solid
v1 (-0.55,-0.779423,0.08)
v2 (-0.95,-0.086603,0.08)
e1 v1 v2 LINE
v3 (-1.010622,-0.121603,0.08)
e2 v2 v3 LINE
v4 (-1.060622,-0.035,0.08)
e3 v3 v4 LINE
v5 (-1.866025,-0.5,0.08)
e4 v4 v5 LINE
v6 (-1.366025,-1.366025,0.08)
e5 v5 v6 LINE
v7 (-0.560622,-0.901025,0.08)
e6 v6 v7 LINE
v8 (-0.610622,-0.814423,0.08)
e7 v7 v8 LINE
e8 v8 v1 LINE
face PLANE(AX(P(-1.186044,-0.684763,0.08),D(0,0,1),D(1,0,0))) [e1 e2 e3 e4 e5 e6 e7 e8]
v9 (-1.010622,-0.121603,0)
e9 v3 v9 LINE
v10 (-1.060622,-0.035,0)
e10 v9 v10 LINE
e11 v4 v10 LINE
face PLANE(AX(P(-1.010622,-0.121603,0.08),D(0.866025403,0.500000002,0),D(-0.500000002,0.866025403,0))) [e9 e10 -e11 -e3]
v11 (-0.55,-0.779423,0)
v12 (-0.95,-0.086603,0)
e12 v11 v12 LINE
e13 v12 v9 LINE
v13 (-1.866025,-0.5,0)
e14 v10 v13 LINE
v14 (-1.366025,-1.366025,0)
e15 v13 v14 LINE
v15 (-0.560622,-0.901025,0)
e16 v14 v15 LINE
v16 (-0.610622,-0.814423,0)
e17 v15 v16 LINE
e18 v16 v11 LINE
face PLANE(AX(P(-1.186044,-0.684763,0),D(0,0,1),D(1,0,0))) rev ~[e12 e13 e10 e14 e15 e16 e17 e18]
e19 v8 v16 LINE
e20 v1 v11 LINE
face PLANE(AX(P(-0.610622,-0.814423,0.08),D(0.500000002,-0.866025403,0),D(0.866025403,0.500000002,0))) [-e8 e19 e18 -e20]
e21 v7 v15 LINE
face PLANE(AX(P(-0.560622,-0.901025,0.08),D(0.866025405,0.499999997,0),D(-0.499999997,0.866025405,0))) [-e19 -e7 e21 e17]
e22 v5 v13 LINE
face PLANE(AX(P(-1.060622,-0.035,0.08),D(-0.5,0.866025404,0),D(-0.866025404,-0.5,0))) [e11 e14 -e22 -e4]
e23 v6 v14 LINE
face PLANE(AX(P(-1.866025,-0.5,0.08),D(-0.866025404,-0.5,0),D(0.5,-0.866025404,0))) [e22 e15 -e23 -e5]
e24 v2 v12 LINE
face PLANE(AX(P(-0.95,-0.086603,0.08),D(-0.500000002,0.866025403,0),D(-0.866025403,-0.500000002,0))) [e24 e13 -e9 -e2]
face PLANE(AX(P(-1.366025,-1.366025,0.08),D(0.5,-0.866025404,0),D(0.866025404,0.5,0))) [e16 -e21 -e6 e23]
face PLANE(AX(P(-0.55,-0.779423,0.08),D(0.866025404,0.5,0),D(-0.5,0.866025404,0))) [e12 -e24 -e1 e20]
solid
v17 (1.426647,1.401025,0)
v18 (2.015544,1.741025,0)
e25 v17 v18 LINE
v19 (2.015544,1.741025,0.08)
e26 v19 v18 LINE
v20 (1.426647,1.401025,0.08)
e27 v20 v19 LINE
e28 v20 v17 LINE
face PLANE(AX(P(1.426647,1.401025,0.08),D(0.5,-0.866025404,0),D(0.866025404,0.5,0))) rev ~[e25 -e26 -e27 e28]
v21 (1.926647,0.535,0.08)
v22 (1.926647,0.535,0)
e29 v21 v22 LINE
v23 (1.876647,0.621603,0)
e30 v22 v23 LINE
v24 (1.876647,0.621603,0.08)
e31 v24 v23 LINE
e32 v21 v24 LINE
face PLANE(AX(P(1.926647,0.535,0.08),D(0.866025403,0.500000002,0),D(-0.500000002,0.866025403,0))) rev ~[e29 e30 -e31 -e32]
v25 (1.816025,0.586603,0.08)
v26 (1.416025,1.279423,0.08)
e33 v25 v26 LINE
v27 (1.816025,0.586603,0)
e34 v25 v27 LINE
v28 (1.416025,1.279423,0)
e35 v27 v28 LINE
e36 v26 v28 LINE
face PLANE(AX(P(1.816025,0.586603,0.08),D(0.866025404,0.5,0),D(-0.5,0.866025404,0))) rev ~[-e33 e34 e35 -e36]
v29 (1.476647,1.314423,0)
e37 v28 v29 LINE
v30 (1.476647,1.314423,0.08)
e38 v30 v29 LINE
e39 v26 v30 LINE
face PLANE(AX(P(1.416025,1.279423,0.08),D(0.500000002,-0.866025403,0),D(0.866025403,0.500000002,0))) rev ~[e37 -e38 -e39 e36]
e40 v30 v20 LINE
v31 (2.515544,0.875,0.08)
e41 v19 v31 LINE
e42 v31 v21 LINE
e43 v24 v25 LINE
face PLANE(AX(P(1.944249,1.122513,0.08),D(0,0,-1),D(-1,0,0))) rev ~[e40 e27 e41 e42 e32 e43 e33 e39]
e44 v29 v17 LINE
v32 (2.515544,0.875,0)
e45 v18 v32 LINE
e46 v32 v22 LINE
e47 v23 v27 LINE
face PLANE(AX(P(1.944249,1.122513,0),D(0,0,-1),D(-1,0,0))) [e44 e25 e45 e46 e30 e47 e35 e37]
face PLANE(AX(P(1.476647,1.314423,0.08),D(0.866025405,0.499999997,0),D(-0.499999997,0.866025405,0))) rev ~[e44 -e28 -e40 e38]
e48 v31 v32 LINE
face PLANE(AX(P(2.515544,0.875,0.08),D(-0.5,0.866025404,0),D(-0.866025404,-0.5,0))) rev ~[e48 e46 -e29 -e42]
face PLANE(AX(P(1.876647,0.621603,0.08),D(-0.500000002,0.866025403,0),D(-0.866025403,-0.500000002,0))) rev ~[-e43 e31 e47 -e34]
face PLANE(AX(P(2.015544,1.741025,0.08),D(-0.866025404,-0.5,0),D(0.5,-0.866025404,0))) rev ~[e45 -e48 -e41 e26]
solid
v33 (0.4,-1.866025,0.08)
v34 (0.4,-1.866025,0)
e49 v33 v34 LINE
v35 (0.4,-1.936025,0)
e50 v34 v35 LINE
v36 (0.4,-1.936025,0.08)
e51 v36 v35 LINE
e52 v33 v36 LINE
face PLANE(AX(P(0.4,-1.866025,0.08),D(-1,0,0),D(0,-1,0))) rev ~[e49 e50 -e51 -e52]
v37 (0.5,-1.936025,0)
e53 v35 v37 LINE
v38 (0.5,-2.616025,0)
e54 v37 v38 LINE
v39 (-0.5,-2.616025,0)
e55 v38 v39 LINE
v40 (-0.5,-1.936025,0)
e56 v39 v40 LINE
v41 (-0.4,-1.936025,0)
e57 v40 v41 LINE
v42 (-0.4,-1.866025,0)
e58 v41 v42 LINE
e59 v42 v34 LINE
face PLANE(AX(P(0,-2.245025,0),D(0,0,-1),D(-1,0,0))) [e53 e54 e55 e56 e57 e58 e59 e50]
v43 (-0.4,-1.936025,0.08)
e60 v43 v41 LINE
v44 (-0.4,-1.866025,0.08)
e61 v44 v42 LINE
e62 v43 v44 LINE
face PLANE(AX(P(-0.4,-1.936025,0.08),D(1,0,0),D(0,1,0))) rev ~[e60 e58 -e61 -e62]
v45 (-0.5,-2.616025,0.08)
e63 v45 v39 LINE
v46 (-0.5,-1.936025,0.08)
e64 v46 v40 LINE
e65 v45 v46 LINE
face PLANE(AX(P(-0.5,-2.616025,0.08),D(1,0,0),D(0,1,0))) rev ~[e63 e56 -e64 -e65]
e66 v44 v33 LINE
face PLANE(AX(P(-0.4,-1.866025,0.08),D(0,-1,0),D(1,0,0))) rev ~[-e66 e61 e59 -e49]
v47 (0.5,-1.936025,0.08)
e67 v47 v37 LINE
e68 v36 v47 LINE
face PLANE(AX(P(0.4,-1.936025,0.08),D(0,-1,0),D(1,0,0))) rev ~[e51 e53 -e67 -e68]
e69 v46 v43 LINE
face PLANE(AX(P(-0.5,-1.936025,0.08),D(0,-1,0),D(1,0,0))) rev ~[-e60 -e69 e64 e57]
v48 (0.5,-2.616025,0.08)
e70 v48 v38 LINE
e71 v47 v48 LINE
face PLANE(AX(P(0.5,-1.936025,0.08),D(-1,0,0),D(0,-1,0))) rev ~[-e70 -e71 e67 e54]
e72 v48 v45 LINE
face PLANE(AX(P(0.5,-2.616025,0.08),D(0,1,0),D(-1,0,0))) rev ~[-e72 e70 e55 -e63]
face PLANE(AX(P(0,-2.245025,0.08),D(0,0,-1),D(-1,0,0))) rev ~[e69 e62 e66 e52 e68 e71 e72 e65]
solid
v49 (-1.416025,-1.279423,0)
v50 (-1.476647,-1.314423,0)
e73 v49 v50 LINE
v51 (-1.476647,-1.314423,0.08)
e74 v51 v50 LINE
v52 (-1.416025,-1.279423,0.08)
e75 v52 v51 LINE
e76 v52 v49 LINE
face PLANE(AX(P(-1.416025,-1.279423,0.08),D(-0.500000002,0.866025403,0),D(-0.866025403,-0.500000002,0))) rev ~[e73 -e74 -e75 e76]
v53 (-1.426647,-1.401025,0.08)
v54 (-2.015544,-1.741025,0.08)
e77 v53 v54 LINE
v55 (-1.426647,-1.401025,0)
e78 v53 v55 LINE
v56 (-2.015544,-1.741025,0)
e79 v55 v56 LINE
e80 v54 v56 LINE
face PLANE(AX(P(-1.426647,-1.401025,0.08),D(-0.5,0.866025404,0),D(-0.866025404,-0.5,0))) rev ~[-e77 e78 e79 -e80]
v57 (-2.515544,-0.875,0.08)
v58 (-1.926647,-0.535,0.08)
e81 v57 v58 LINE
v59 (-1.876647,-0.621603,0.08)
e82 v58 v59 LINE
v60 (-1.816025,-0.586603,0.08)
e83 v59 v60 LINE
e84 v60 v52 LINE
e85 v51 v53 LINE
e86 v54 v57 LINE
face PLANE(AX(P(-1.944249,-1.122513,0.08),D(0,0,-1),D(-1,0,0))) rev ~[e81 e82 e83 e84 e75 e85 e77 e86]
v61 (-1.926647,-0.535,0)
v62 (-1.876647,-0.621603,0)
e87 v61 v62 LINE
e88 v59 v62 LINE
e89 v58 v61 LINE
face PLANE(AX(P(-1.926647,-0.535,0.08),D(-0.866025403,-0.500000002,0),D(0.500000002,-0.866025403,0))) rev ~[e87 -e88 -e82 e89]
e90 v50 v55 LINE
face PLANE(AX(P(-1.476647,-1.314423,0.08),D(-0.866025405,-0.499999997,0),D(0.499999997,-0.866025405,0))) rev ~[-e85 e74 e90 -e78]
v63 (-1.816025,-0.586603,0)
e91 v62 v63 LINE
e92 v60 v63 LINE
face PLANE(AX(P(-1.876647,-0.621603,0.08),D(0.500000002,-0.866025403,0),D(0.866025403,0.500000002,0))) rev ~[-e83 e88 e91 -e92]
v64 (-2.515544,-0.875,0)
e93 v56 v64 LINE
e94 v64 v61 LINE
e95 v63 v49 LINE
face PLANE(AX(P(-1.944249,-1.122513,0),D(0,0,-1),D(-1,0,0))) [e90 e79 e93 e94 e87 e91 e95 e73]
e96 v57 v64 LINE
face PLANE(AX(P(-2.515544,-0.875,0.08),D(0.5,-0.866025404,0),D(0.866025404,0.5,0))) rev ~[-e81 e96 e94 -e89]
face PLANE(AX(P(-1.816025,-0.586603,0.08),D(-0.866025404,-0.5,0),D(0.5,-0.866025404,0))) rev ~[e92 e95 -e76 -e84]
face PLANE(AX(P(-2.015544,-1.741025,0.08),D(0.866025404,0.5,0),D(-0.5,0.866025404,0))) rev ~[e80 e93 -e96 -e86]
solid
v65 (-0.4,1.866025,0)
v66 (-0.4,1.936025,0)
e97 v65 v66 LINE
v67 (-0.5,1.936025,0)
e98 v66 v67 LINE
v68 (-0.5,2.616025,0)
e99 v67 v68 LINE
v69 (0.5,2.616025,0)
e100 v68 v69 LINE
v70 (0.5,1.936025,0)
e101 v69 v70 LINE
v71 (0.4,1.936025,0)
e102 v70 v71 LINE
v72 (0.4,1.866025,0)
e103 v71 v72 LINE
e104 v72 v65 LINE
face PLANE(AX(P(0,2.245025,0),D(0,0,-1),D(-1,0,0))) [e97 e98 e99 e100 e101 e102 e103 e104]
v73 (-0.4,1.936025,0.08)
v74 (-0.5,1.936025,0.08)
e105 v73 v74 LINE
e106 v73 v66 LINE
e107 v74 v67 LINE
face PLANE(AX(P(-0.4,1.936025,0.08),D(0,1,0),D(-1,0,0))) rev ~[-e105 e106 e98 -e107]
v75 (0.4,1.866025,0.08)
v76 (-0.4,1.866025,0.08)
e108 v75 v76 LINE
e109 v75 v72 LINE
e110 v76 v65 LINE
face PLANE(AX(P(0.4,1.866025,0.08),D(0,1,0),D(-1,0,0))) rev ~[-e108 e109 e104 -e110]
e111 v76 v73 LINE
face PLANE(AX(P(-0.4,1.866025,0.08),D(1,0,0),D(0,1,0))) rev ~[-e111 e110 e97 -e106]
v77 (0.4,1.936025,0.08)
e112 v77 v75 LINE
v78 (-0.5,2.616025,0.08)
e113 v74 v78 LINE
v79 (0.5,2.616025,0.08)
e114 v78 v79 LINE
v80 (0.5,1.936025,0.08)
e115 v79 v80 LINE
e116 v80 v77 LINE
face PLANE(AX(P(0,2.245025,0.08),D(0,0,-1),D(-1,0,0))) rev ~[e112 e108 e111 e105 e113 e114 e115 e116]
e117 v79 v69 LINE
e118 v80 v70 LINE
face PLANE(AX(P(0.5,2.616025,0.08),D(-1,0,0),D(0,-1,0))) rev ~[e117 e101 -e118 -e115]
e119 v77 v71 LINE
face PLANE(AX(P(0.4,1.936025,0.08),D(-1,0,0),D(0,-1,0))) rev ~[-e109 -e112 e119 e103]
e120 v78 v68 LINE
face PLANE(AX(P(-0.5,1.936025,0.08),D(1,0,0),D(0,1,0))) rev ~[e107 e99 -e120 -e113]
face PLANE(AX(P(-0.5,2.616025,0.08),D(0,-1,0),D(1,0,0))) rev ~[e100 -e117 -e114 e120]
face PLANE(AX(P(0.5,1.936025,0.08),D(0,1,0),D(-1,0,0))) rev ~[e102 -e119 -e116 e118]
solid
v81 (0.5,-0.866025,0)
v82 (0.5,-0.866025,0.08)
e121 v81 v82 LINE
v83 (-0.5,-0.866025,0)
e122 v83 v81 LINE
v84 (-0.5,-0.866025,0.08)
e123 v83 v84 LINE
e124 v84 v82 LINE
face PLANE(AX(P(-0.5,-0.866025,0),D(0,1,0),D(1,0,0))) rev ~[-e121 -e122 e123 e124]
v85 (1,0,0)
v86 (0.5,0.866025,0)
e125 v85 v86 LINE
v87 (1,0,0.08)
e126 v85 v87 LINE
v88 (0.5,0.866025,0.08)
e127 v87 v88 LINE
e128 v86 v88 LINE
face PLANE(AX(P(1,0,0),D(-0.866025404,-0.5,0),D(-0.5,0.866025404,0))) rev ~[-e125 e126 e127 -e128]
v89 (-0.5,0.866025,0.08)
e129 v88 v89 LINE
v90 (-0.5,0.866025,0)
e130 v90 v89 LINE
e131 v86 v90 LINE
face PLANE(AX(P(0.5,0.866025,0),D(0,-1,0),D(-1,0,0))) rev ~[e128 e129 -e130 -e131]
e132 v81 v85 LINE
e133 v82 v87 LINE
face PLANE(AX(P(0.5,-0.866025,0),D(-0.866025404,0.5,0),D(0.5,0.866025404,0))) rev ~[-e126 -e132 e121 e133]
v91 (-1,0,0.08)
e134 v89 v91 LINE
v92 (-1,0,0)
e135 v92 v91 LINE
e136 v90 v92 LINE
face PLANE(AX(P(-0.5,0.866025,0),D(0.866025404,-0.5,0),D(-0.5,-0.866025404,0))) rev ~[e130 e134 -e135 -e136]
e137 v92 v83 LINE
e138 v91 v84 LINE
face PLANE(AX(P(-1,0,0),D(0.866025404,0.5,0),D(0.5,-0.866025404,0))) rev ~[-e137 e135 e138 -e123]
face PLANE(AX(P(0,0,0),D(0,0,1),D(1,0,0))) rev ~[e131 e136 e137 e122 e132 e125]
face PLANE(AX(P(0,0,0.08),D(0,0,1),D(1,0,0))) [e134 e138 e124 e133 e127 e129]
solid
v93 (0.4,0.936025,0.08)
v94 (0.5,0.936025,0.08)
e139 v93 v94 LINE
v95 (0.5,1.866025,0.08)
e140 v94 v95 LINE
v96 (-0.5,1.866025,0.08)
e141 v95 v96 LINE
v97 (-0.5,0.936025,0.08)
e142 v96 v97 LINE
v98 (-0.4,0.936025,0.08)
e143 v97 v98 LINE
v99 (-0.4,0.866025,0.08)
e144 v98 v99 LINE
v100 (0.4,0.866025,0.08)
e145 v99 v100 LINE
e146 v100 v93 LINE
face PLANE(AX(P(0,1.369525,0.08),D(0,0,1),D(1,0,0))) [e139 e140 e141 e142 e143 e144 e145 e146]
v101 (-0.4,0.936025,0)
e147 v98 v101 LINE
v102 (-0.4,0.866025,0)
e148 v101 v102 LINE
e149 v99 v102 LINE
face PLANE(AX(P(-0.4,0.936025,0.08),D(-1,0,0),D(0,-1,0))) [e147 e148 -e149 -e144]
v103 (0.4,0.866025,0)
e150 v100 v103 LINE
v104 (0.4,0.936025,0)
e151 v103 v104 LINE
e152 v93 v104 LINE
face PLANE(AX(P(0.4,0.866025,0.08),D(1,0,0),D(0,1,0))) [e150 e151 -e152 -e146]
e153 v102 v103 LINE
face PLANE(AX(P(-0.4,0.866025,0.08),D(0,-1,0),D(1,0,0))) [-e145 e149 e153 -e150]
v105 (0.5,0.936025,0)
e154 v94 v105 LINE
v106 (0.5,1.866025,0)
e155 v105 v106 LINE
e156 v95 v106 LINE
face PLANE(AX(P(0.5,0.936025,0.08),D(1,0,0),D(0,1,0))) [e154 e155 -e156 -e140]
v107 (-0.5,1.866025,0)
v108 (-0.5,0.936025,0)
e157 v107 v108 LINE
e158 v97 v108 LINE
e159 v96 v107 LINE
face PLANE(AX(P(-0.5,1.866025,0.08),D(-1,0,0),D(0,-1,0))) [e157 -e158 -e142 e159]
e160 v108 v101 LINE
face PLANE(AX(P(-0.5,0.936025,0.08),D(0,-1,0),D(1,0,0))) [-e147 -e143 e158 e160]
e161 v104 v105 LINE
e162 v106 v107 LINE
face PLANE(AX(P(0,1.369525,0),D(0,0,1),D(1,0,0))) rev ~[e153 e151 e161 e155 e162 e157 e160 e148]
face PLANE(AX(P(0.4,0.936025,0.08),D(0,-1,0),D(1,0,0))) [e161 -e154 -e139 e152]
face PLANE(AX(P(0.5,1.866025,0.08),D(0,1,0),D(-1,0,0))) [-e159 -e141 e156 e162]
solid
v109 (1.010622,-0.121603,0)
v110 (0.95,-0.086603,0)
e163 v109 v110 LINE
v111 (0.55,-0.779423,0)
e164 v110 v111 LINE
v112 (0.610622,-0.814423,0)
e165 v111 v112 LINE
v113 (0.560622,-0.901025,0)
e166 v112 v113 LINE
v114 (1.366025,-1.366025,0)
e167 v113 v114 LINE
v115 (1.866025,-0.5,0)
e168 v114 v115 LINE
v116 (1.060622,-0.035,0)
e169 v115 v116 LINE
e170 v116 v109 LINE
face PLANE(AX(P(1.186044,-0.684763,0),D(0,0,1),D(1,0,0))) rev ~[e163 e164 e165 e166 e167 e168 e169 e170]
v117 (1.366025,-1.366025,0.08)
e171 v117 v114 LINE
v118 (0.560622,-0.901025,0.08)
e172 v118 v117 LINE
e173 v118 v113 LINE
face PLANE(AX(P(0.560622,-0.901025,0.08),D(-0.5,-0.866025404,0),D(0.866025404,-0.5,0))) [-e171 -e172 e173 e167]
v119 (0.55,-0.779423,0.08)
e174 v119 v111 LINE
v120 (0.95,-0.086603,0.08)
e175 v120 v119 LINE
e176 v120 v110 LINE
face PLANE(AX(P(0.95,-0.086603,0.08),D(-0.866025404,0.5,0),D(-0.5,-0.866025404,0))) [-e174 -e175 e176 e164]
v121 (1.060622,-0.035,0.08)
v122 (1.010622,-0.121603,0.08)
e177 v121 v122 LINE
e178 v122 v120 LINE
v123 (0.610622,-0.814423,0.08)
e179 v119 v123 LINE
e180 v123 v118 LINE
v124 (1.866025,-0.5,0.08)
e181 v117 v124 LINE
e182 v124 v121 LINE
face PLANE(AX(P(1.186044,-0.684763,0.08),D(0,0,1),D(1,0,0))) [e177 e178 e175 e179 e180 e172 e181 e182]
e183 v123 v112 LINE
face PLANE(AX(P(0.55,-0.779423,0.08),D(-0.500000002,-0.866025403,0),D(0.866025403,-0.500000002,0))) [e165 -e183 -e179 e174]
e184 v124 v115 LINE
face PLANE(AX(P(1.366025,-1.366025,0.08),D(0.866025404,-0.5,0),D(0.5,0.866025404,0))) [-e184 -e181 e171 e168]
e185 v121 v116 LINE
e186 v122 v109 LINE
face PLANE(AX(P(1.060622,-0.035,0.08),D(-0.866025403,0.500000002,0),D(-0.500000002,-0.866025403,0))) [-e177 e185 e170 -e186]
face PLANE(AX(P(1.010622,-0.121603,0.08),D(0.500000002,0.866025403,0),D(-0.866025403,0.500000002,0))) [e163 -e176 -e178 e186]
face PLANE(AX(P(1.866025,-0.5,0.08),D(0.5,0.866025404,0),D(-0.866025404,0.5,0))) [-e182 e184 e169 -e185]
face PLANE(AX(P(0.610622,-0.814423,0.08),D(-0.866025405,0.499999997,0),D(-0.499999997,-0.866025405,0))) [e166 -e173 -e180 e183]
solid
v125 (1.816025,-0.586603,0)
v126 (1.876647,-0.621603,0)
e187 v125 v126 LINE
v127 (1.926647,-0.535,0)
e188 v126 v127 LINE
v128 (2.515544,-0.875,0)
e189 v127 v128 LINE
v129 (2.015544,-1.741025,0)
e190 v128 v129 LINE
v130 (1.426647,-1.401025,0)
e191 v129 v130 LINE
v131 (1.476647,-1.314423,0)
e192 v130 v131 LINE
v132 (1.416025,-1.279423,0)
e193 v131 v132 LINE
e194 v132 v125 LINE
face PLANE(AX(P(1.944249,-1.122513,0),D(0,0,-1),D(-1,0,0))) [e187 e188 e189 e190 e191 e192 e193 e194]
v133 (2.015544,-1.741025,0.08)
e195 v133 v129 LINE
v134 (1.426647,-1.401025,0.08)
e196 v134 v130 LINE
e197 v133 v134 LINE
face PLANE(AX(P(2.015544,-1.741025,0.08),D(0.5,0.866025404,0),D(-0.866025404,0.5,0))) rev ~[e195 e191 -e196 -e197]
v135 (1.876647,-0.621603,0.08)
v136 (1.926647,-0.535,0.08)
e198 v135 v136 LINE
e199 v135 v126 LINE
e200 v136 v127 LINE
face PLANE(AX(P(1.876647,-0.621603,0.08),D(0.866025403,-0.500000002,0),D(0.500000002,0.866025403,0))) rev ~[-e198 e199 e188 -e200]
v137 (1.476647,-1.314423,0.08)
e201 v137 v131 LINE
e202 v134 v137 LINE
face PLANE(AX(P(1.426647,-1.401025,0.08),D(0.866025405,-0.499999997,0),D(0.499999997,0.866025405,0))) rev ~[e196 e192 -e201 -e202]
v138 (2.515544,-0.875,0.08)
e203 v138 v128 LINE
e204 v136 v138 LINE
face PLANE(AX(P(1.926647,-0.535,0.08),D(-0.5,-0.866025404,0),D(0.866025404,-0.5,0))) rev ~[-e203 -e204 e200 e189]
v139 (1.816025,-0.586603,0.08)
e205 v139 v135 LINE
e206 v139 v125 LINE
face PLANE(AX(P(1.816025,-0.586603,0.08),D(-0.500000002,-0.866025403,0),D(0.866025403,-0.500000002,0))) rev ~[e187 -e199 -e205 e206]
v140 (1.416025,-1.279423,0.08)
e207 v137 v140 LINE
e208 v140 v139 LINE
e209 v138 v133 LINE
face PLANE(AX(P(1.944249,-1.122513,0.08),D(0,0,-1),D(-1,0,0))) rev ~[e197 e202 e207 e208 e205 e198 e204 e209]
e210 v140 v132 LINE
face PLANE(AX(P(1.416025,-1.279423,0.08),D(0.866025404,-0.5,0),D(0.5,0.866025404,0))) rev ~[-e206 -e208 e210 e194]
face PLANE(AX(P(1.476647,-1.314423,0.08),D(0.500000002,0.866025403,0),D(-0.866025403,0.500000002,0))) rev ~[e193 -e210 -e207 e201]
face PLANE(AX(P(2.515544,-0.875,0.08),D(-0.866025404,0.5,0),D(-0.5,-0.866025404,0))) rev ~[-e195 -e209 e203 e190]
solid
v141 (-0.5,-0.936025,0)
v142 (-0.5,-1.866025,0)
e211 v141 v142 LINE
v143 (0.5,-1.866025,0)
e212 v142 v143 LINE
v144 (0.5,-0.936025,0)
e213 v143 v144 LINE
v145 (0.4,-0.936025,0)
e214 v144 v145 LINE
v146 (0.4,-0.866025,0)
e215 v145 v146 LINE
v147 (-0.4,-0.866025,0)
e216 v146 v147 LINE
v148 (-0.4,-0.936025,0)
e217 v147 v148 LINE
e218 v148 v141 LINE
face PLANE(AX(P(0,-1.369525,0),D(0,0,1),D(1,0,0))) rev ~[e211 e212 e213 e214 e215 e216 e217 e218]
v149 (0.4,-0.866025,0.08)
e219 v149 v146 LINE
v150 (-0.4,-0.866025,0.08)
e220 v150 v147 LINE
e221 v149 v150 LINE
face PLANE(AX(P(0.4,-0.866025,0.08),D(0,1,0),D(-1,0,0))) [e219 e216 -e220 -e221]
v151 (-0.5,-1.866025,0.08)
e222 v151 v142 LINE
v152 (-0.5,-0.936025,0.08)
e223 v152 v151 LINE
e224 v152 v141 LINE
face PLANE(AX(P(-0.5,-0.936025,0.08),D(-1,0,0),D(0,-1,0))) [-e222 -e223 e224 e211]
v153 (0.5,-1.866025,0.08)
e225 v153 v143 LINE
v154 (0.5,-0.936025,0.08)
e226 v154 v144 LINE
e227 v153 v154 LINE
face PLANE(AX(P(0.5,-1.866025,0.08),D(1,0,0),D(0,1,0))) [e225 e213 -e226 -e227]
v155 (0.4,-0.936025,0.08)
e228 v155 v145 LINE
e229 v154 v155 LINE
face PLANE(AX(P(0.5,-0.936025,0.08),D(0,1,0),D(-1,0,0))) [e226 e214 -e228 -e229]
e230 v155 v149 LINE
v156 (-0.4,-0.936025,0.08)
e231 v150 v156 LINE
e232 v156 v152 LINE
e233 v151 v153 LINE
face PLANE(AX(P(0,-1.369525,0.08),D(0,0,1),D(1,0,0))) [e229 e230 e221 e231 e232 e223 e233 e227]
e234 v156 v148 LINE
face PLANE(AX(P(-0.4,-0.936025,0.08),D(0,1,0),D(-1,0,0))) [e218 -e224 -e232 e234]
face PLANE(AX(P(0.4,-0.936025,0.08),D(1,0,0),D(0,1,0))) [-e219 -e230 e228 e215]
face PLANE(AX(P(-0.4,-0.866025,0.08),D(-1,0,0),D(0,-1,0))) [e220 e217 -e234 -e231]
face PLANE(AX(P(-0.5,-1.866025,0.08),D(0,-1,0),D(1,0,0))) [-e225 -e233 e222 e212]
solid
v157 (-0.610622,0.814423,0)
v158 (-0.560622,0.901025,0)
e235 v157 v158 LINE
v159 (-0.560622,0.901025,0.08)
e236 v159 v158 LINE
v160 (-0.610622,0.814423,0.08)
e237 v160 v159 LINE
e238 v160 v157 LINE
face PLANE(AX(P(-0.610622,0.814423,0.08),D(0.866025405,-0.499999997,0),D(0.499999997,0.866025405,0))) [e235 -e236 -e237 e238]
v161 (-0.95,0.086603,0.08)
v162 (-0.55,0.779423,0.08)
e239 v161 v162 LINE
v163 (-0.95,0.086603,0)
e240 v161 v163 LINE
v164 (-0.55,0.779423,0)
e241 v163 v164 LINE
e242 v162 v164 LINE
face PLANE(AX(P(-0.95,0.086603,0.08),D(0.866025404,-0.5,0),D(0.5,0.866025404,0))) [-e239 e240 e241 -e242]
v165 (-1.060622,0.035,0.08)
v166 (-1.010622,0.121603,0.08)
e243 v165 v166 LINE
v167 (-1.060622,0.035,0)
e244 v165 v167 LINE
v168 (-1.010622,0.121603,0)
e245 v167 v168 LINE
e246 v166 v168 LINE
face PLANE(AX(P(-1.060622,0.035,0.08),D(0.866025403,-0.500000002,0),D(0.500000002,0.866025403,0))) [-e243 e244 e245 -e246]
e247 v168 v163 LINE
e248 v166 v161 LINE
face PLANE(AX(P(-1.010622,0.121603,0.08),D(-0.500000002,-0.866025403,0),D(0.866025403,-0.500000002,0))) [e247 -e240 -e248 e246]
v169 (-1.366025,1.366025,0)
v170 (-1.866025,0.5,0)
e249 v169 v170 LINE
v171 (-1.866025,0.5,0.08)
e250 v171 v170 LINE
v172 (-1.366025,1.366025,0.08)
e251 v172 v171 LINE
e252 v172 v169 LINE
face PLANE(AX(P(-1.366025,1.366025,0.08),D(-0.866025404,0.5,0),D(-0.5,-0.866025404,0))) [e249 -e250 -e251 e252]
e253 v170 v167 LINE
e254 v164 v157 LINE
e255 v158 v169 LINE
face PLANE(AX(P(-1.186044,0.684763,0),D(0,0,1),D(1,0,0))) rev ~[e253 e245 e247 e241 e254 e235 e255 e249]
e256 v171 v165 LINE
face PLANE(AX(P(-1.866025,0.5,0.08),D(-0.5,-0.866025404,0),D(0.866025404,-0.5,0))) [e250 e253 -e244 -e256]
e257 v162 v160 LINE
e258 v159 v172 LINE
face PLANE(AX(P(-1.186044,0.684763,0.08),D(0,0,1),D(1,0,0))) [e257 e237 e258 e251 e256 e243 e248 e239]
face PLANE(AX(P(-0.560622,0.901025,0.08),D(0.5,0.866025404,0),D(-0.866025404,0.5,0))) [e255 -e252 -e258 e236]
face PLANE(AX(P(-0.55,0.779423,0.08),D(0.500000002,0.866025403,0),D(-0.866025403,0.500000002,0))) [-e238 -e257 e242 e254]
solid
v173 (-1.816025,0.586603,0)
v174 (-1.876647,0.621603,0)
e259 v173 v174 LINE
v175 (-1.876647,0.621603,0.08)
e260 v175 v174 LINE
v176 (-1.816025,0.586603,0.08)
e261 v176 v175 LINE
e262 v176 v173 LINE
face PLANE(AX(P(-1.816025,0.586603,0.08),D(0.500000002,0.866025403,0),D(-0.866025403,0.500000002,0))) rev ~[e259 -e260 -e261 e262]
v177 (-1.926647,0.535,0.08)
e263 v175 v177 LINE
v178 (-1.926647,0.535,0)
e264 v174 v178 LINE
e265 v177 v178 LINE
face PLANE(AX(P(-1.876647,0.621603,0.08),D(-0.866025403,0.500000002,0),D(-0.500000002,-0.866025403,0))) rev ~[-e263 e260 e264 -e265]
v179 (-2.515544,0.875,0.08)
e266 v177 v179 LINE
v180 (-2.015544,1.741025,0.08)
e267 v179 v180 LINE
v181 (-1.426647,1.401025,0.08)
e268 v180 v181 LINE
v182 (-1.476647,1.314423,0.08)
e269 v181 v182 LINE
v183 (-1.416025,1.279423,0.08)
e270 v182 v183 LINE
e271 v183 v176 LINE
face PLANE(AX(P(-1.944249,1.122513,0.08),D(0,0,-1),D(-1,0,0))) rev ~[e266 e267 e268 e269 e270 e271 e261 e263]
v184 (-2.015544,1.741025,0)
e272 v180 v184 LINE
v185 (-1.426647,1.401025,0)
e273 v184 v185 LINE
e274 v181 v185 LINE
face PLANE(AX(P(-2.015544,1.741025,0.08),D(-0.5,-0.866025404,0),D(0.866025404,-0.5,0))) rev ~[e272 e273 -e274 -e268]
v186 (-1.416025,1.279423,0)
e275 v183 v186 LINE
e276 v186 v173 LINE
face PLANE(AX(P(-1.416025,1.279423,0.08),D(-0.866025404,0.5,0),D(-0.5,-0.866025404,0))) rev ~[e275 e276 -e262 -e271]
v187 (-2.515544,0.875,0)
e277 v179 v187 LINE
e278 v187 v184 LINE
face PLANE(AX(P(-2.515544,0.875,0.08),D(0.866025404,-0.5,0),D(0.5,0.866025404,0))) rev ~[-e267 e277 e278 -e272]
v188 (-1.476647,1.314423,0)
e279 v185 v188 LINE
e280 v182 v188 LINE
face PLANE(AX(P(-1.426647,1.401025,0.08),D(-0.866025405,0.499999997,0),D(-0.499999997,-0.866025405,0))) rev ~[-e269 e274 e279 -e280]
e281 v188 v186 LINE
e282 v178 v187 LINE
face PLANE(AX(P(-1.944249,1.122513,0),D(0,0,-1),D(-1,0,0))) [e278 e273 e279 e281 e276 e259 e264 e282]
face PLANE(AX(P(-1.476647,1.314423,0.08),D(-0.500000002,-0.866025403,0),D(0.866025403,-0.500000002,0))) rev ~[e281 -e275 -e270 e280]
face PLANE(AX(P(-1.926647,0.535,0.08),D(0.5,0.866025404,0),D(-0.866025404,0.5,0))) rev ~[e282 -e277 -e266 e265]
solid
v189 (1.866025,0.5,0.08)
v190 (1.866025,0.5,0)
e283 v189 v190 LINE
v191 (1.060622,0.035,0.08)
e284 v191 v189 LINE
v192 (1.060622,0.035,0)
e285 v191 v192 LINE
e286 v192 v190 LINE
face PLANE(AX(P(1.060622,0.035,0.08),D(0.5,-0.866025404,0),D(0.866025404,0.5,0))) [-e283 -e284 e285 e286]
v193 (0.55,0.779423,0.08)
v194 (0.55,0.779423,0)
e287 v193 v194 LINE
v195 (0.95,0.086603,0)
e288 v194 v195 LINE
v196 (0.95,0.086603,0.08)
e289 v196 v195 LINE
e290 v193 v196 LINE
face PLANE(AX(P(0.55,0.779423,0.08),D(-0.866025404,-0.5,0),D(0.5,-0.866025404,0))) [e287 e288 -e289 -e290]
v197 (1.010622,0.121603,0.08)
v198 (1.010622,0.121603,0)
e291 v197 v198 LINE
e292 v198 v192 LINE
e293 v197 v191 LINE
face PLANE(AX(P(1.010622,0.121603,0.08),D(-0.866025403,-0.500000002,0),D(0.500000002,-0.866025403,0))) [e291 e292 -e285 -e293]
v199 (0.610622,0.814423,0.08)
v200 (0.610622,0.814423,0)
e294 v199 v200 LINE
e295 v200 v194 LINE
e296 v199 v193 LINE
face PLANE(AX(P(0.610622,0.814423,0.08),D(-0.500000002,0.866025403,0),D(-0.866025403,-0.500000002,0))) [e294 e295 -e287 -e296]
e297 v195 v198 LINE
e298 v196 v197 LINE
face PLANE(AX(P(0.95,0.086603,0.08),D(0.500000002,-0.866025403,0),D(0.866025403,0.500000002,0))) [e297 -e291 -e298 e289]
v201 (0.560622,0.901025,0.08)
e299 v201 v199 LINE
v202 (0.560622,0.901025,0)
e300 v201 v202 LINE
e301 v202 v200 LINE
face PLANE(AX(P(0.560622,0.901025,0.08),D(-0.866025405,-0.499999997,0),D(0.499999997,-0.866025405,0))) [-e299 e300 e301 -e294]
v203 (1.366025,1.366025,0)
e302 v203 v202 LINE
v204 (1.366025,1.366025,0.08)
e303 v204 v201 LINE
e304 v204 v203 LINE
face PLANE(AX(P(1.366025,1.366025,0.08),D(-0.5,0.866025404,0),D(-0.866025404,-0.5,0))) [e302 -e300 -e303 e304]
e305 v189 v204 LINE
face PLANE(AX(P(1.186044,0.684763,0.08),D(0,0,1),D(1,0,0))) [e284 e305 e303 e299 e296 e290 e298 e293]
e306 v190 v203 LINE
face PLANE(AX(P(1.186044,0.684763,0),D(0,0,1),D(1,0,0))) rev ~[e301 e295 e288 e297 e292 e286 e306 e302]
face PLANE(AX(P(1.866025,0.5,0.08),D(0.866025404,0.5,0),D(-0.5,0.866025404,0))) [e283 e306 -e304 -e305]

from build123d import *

# Parameters (mm, degrees)
BOSS_EXTRUDE1_DEPTH   = 0.08
BOSS_EXTRUDE3_DEPTH   = 0.08
BOSS_EXTRUDE3_2_DEPTH = 0.08
BOSS_EXTRUDE3_3_DEPTH = 0.08
BOSS_EXTRUDE3_4_DEPTH = 0.08
BOSS_EXTRUDE3_5_DEPTH = 0.08
BOSS_EXTRUDE3_6_DEPTH = 0.08
BOSS_EXTRUDE4_DEPTH   = 0.08
BOSS_EXTRUDE4_2_DEPTH = 0.08
BOSS_EXTRUDE4_3_DEPTH = 0.08
BOSS_EXTRUDE4_4_DEPTH = 0.08
BOSS_EXTRUDE4_5_DEPTH = 0.08
BOSS_EXTRUDE4_6_DEPTH = 0.08


with BuildPart() as part:
    # Sketch1 → Boss-Extrude1 (new body)
    with BuildSketch(Plane.XY):
        Polygon((-1, 0), (-0.5, -0.866025404), (0.5, -0.866025404), (1, 0), (0.5, 0.866025404), (-0.5, 0.866025404), align=None)
    extrude(amount=BOSS_EXTRUDE1_DEPTH)


with BuildPart() as body_2:
    # Sketch2 → Boss-Extrude3 (new body)
    with BuildSketch(Plane.XY.offset(0.08)):
        Polygon((-1.010621778, 0.12160254), (-0.95, 0.08660254), (-0.55, 0.779422863), (-0.610621778, 0.814422863), (-0.560621778, 0.901025404), (-1.366025404, 1.366025404), (-1.866025404, 0.5), (-1.060621778, 0.035), align=None)
    extrude(amount=-BOSS_EXTRUDE3_DEPTH)


with BuildPart() as body_3:
    # Sketch2 → Boss-Extrude3 2 (new body)
    with BuildSketch(Plane.XY.offset(0.08)):
        Polygon((-0.4, 0.936025404), (-0.4, 0.866025404), (0.4, 0.866025404), (0.4, 0.936025404), (0.5, 0.936025404), (0.5, 1.866025404), (-0.5, 1.866025404), (-0.5, 0.936025404), align=None)
    extrude(amount=-BOSS_EXTRUDE3_2_DEPTH)


with BuildPart() as body_4:
    # Sketch2 → Boss-Extrude3 3 (new body)
    with BuildSketch(Plane.XY.offset(0.08)):
        Polygon((0.610621778, 0.814422863), (0.55, 0.779422863), (0.95, 0.08660254), (1.010621778, 0.12160254), (1.060621778, 0.035), (1.866025404, 0.5), (1.366025404, 1.366025404), (0.560621778, 0.901025404), align=None)
    extrude(amount=-BOSS_EXTRUDE3_3_DEPTH)


with BuildPart() as body_5:
    # Sketch2 → Boss-Extrude3 4 (new body)
    with BuildSketch(Plane.XY.offset(0.08)):
        Polygon((1.010621778, -0.12160254), (0.95, -0.08660254), (0.55, -0.779422863), (0.610621778, -0.814422863), (0.560621778, -0.901025404), (1.366025404, -1.366025404), (1.866025404, -0.5), (1.060621778, -0.035), align=None)
    extrude(amount=-BOSS_EXTRUDE3_4_DEPTH)


with BuildPart() as body_6:
    # Sketch2 → Boss-Extrude3 5 (new body)
    with BuildSketch(Plane.XY.offset(0.08)):
        Polygon((0.4, -0.936025404), (0.4, -0.866025404), (-0.4, -0.866025404), (-0.4, -0.936025404), (-0.5, -0.936025404), (-0.5, -1.866025404), (0.5, -1.866025404), (0.5, -0.936025404), align=None)
    extrude(amount=-BOSS_EXTRUDE3_5_DEPTH)


with BuildPart() as body_7:
    # Sketch2 → Boss-Extrude3 6 (new body)
    with BuildSketch(Plane.XY.offset(0.08)):
        Polygon((-0.610621778, -0.814422863), (-0.55, -0.779422863), (-0.95, -0.08660254), (-1.010621778, -0.12160254), (-1.060621778, -0.035), (-1.866025404, -0.5), (-1.366025404, -1.366025404), (-0.560621778, -0.901025404), align=None)
    extrude(amount=-BOSS_EXTRUDE3_6_DEPTH)


with BuildPart() as body_8:
    # Sketch3 → Boss-Extrude4 (new body)
    with BuildSketch(Plane.XY.offset(0.08)):
        Polygon((-1.416025404, 1.279422863), (-1.816025404, 0.58660254), (-1.876647182, 0.62160254), (-1.926647182, 0.535), (-2.515544457, 0.875), (-2.015544457, 1.741025404), (-1.426647182, 1.401025404), (-1.476647182, 1.314422863), align=None)
    extrude(amount=-BOSS_EXTRUDE4_DEPTH)


with BuildPart() as body_9:
    # Sketch3 → Boss-Extrude4 2 (new body)
    with BuildSketch(Plane.XY.offset(0.08)):
        Polygon((0.4, 1.866025404), (-0.4, 1.866025404), (-0.4, 1.936025404), (-0.5, 1.936025404), (-0.5, 2.616025404), (0.5, 2.616025404), (0.5, 1.936025404), (0.4, 1.936025404), align=None)
    extrude(amount=-BOSS_EXTRUDE4_2_DEPTH)


with BuildPart() as body_10:
    # Sketch3 → Boss-Extrude4 3 (new body)
    with BuildSketch(Plane.XY.offset(0.08)):
        Polygon((1.816025404, 0.58660254), (1.416025404, 1.279422863), (1.476647182, 1.314422863), (1.426647182, 1.401025404), (2.015544457, 1.741025404), (2.515544457, 0.875), (1.926647182, 0.535), (1.876647182, 0.62160254), align=None)
    extrude(amount=-BOSS_EXTRUDE4_3_DEPTH)


with BuildPart() as body_11:
    # Sketch3 → Boss-Extrude4 4 (new body)
    with BuildSketch(Plane.XY.offset(0.08)):
        Polygon((1.416025404, -1.279422863), (1.816025404, -0.58660254), (1.876647182, -0.62160254), (1.926647182, -0.535), (2.515544457, -0.875), (2.015544457, -1.741025404), (1.426647182, -1.401025404), (1.476647182, -1.314422863), align=None)
    extrude(amount=-BOSS_EXTRUDE4_4_DEPTH)


with BuildPart() as body_12:
    # Sketch3 → Boss-Extrude4 5 (new body)
    with BuildSketch(Plane.XY.offset(0.08)):
        Polygon((-0.4, -1.866025404), (0.4, -1.866025404), (0.4, -1.936025404), (0.5, -1.936025404), (0.5, -2.616025404), (-0.5, -2.616025404), (-0.5, -1.936025404), (-0.4, -1.936025404), align=None)
    extrude(amount=-BOSS_EXTRUDE4_5_DEPTH)


with BuildPart() as body_13:
    # Sketch3 → Boss-Extrude4 6 (new body)
    with BuildSketch(Plane.XY.offset(0.08)):
        Polygon((-1.816025404, -0.58660254), (-1.416025404, -1.279422863), (-1.476647182, -1.314422863), (-1.426647182, -1.401025404), (-2.015544457, -1.741025404), (-2.515544457, -0.875), (-1.926647182, -0.535), (-1.876647182, -0.62160254), align=None)
    extrude(amount=-BOSS_EXTRUDE4_6_DEPTH)


solid = Compound([part.part, body_2.part, body_3.part, body_4.part, body_5.part, body_6.part, body_7.part, body_8.part, body_9.part, body_10.part, body_11.part, body_12.part, body_13.part])
